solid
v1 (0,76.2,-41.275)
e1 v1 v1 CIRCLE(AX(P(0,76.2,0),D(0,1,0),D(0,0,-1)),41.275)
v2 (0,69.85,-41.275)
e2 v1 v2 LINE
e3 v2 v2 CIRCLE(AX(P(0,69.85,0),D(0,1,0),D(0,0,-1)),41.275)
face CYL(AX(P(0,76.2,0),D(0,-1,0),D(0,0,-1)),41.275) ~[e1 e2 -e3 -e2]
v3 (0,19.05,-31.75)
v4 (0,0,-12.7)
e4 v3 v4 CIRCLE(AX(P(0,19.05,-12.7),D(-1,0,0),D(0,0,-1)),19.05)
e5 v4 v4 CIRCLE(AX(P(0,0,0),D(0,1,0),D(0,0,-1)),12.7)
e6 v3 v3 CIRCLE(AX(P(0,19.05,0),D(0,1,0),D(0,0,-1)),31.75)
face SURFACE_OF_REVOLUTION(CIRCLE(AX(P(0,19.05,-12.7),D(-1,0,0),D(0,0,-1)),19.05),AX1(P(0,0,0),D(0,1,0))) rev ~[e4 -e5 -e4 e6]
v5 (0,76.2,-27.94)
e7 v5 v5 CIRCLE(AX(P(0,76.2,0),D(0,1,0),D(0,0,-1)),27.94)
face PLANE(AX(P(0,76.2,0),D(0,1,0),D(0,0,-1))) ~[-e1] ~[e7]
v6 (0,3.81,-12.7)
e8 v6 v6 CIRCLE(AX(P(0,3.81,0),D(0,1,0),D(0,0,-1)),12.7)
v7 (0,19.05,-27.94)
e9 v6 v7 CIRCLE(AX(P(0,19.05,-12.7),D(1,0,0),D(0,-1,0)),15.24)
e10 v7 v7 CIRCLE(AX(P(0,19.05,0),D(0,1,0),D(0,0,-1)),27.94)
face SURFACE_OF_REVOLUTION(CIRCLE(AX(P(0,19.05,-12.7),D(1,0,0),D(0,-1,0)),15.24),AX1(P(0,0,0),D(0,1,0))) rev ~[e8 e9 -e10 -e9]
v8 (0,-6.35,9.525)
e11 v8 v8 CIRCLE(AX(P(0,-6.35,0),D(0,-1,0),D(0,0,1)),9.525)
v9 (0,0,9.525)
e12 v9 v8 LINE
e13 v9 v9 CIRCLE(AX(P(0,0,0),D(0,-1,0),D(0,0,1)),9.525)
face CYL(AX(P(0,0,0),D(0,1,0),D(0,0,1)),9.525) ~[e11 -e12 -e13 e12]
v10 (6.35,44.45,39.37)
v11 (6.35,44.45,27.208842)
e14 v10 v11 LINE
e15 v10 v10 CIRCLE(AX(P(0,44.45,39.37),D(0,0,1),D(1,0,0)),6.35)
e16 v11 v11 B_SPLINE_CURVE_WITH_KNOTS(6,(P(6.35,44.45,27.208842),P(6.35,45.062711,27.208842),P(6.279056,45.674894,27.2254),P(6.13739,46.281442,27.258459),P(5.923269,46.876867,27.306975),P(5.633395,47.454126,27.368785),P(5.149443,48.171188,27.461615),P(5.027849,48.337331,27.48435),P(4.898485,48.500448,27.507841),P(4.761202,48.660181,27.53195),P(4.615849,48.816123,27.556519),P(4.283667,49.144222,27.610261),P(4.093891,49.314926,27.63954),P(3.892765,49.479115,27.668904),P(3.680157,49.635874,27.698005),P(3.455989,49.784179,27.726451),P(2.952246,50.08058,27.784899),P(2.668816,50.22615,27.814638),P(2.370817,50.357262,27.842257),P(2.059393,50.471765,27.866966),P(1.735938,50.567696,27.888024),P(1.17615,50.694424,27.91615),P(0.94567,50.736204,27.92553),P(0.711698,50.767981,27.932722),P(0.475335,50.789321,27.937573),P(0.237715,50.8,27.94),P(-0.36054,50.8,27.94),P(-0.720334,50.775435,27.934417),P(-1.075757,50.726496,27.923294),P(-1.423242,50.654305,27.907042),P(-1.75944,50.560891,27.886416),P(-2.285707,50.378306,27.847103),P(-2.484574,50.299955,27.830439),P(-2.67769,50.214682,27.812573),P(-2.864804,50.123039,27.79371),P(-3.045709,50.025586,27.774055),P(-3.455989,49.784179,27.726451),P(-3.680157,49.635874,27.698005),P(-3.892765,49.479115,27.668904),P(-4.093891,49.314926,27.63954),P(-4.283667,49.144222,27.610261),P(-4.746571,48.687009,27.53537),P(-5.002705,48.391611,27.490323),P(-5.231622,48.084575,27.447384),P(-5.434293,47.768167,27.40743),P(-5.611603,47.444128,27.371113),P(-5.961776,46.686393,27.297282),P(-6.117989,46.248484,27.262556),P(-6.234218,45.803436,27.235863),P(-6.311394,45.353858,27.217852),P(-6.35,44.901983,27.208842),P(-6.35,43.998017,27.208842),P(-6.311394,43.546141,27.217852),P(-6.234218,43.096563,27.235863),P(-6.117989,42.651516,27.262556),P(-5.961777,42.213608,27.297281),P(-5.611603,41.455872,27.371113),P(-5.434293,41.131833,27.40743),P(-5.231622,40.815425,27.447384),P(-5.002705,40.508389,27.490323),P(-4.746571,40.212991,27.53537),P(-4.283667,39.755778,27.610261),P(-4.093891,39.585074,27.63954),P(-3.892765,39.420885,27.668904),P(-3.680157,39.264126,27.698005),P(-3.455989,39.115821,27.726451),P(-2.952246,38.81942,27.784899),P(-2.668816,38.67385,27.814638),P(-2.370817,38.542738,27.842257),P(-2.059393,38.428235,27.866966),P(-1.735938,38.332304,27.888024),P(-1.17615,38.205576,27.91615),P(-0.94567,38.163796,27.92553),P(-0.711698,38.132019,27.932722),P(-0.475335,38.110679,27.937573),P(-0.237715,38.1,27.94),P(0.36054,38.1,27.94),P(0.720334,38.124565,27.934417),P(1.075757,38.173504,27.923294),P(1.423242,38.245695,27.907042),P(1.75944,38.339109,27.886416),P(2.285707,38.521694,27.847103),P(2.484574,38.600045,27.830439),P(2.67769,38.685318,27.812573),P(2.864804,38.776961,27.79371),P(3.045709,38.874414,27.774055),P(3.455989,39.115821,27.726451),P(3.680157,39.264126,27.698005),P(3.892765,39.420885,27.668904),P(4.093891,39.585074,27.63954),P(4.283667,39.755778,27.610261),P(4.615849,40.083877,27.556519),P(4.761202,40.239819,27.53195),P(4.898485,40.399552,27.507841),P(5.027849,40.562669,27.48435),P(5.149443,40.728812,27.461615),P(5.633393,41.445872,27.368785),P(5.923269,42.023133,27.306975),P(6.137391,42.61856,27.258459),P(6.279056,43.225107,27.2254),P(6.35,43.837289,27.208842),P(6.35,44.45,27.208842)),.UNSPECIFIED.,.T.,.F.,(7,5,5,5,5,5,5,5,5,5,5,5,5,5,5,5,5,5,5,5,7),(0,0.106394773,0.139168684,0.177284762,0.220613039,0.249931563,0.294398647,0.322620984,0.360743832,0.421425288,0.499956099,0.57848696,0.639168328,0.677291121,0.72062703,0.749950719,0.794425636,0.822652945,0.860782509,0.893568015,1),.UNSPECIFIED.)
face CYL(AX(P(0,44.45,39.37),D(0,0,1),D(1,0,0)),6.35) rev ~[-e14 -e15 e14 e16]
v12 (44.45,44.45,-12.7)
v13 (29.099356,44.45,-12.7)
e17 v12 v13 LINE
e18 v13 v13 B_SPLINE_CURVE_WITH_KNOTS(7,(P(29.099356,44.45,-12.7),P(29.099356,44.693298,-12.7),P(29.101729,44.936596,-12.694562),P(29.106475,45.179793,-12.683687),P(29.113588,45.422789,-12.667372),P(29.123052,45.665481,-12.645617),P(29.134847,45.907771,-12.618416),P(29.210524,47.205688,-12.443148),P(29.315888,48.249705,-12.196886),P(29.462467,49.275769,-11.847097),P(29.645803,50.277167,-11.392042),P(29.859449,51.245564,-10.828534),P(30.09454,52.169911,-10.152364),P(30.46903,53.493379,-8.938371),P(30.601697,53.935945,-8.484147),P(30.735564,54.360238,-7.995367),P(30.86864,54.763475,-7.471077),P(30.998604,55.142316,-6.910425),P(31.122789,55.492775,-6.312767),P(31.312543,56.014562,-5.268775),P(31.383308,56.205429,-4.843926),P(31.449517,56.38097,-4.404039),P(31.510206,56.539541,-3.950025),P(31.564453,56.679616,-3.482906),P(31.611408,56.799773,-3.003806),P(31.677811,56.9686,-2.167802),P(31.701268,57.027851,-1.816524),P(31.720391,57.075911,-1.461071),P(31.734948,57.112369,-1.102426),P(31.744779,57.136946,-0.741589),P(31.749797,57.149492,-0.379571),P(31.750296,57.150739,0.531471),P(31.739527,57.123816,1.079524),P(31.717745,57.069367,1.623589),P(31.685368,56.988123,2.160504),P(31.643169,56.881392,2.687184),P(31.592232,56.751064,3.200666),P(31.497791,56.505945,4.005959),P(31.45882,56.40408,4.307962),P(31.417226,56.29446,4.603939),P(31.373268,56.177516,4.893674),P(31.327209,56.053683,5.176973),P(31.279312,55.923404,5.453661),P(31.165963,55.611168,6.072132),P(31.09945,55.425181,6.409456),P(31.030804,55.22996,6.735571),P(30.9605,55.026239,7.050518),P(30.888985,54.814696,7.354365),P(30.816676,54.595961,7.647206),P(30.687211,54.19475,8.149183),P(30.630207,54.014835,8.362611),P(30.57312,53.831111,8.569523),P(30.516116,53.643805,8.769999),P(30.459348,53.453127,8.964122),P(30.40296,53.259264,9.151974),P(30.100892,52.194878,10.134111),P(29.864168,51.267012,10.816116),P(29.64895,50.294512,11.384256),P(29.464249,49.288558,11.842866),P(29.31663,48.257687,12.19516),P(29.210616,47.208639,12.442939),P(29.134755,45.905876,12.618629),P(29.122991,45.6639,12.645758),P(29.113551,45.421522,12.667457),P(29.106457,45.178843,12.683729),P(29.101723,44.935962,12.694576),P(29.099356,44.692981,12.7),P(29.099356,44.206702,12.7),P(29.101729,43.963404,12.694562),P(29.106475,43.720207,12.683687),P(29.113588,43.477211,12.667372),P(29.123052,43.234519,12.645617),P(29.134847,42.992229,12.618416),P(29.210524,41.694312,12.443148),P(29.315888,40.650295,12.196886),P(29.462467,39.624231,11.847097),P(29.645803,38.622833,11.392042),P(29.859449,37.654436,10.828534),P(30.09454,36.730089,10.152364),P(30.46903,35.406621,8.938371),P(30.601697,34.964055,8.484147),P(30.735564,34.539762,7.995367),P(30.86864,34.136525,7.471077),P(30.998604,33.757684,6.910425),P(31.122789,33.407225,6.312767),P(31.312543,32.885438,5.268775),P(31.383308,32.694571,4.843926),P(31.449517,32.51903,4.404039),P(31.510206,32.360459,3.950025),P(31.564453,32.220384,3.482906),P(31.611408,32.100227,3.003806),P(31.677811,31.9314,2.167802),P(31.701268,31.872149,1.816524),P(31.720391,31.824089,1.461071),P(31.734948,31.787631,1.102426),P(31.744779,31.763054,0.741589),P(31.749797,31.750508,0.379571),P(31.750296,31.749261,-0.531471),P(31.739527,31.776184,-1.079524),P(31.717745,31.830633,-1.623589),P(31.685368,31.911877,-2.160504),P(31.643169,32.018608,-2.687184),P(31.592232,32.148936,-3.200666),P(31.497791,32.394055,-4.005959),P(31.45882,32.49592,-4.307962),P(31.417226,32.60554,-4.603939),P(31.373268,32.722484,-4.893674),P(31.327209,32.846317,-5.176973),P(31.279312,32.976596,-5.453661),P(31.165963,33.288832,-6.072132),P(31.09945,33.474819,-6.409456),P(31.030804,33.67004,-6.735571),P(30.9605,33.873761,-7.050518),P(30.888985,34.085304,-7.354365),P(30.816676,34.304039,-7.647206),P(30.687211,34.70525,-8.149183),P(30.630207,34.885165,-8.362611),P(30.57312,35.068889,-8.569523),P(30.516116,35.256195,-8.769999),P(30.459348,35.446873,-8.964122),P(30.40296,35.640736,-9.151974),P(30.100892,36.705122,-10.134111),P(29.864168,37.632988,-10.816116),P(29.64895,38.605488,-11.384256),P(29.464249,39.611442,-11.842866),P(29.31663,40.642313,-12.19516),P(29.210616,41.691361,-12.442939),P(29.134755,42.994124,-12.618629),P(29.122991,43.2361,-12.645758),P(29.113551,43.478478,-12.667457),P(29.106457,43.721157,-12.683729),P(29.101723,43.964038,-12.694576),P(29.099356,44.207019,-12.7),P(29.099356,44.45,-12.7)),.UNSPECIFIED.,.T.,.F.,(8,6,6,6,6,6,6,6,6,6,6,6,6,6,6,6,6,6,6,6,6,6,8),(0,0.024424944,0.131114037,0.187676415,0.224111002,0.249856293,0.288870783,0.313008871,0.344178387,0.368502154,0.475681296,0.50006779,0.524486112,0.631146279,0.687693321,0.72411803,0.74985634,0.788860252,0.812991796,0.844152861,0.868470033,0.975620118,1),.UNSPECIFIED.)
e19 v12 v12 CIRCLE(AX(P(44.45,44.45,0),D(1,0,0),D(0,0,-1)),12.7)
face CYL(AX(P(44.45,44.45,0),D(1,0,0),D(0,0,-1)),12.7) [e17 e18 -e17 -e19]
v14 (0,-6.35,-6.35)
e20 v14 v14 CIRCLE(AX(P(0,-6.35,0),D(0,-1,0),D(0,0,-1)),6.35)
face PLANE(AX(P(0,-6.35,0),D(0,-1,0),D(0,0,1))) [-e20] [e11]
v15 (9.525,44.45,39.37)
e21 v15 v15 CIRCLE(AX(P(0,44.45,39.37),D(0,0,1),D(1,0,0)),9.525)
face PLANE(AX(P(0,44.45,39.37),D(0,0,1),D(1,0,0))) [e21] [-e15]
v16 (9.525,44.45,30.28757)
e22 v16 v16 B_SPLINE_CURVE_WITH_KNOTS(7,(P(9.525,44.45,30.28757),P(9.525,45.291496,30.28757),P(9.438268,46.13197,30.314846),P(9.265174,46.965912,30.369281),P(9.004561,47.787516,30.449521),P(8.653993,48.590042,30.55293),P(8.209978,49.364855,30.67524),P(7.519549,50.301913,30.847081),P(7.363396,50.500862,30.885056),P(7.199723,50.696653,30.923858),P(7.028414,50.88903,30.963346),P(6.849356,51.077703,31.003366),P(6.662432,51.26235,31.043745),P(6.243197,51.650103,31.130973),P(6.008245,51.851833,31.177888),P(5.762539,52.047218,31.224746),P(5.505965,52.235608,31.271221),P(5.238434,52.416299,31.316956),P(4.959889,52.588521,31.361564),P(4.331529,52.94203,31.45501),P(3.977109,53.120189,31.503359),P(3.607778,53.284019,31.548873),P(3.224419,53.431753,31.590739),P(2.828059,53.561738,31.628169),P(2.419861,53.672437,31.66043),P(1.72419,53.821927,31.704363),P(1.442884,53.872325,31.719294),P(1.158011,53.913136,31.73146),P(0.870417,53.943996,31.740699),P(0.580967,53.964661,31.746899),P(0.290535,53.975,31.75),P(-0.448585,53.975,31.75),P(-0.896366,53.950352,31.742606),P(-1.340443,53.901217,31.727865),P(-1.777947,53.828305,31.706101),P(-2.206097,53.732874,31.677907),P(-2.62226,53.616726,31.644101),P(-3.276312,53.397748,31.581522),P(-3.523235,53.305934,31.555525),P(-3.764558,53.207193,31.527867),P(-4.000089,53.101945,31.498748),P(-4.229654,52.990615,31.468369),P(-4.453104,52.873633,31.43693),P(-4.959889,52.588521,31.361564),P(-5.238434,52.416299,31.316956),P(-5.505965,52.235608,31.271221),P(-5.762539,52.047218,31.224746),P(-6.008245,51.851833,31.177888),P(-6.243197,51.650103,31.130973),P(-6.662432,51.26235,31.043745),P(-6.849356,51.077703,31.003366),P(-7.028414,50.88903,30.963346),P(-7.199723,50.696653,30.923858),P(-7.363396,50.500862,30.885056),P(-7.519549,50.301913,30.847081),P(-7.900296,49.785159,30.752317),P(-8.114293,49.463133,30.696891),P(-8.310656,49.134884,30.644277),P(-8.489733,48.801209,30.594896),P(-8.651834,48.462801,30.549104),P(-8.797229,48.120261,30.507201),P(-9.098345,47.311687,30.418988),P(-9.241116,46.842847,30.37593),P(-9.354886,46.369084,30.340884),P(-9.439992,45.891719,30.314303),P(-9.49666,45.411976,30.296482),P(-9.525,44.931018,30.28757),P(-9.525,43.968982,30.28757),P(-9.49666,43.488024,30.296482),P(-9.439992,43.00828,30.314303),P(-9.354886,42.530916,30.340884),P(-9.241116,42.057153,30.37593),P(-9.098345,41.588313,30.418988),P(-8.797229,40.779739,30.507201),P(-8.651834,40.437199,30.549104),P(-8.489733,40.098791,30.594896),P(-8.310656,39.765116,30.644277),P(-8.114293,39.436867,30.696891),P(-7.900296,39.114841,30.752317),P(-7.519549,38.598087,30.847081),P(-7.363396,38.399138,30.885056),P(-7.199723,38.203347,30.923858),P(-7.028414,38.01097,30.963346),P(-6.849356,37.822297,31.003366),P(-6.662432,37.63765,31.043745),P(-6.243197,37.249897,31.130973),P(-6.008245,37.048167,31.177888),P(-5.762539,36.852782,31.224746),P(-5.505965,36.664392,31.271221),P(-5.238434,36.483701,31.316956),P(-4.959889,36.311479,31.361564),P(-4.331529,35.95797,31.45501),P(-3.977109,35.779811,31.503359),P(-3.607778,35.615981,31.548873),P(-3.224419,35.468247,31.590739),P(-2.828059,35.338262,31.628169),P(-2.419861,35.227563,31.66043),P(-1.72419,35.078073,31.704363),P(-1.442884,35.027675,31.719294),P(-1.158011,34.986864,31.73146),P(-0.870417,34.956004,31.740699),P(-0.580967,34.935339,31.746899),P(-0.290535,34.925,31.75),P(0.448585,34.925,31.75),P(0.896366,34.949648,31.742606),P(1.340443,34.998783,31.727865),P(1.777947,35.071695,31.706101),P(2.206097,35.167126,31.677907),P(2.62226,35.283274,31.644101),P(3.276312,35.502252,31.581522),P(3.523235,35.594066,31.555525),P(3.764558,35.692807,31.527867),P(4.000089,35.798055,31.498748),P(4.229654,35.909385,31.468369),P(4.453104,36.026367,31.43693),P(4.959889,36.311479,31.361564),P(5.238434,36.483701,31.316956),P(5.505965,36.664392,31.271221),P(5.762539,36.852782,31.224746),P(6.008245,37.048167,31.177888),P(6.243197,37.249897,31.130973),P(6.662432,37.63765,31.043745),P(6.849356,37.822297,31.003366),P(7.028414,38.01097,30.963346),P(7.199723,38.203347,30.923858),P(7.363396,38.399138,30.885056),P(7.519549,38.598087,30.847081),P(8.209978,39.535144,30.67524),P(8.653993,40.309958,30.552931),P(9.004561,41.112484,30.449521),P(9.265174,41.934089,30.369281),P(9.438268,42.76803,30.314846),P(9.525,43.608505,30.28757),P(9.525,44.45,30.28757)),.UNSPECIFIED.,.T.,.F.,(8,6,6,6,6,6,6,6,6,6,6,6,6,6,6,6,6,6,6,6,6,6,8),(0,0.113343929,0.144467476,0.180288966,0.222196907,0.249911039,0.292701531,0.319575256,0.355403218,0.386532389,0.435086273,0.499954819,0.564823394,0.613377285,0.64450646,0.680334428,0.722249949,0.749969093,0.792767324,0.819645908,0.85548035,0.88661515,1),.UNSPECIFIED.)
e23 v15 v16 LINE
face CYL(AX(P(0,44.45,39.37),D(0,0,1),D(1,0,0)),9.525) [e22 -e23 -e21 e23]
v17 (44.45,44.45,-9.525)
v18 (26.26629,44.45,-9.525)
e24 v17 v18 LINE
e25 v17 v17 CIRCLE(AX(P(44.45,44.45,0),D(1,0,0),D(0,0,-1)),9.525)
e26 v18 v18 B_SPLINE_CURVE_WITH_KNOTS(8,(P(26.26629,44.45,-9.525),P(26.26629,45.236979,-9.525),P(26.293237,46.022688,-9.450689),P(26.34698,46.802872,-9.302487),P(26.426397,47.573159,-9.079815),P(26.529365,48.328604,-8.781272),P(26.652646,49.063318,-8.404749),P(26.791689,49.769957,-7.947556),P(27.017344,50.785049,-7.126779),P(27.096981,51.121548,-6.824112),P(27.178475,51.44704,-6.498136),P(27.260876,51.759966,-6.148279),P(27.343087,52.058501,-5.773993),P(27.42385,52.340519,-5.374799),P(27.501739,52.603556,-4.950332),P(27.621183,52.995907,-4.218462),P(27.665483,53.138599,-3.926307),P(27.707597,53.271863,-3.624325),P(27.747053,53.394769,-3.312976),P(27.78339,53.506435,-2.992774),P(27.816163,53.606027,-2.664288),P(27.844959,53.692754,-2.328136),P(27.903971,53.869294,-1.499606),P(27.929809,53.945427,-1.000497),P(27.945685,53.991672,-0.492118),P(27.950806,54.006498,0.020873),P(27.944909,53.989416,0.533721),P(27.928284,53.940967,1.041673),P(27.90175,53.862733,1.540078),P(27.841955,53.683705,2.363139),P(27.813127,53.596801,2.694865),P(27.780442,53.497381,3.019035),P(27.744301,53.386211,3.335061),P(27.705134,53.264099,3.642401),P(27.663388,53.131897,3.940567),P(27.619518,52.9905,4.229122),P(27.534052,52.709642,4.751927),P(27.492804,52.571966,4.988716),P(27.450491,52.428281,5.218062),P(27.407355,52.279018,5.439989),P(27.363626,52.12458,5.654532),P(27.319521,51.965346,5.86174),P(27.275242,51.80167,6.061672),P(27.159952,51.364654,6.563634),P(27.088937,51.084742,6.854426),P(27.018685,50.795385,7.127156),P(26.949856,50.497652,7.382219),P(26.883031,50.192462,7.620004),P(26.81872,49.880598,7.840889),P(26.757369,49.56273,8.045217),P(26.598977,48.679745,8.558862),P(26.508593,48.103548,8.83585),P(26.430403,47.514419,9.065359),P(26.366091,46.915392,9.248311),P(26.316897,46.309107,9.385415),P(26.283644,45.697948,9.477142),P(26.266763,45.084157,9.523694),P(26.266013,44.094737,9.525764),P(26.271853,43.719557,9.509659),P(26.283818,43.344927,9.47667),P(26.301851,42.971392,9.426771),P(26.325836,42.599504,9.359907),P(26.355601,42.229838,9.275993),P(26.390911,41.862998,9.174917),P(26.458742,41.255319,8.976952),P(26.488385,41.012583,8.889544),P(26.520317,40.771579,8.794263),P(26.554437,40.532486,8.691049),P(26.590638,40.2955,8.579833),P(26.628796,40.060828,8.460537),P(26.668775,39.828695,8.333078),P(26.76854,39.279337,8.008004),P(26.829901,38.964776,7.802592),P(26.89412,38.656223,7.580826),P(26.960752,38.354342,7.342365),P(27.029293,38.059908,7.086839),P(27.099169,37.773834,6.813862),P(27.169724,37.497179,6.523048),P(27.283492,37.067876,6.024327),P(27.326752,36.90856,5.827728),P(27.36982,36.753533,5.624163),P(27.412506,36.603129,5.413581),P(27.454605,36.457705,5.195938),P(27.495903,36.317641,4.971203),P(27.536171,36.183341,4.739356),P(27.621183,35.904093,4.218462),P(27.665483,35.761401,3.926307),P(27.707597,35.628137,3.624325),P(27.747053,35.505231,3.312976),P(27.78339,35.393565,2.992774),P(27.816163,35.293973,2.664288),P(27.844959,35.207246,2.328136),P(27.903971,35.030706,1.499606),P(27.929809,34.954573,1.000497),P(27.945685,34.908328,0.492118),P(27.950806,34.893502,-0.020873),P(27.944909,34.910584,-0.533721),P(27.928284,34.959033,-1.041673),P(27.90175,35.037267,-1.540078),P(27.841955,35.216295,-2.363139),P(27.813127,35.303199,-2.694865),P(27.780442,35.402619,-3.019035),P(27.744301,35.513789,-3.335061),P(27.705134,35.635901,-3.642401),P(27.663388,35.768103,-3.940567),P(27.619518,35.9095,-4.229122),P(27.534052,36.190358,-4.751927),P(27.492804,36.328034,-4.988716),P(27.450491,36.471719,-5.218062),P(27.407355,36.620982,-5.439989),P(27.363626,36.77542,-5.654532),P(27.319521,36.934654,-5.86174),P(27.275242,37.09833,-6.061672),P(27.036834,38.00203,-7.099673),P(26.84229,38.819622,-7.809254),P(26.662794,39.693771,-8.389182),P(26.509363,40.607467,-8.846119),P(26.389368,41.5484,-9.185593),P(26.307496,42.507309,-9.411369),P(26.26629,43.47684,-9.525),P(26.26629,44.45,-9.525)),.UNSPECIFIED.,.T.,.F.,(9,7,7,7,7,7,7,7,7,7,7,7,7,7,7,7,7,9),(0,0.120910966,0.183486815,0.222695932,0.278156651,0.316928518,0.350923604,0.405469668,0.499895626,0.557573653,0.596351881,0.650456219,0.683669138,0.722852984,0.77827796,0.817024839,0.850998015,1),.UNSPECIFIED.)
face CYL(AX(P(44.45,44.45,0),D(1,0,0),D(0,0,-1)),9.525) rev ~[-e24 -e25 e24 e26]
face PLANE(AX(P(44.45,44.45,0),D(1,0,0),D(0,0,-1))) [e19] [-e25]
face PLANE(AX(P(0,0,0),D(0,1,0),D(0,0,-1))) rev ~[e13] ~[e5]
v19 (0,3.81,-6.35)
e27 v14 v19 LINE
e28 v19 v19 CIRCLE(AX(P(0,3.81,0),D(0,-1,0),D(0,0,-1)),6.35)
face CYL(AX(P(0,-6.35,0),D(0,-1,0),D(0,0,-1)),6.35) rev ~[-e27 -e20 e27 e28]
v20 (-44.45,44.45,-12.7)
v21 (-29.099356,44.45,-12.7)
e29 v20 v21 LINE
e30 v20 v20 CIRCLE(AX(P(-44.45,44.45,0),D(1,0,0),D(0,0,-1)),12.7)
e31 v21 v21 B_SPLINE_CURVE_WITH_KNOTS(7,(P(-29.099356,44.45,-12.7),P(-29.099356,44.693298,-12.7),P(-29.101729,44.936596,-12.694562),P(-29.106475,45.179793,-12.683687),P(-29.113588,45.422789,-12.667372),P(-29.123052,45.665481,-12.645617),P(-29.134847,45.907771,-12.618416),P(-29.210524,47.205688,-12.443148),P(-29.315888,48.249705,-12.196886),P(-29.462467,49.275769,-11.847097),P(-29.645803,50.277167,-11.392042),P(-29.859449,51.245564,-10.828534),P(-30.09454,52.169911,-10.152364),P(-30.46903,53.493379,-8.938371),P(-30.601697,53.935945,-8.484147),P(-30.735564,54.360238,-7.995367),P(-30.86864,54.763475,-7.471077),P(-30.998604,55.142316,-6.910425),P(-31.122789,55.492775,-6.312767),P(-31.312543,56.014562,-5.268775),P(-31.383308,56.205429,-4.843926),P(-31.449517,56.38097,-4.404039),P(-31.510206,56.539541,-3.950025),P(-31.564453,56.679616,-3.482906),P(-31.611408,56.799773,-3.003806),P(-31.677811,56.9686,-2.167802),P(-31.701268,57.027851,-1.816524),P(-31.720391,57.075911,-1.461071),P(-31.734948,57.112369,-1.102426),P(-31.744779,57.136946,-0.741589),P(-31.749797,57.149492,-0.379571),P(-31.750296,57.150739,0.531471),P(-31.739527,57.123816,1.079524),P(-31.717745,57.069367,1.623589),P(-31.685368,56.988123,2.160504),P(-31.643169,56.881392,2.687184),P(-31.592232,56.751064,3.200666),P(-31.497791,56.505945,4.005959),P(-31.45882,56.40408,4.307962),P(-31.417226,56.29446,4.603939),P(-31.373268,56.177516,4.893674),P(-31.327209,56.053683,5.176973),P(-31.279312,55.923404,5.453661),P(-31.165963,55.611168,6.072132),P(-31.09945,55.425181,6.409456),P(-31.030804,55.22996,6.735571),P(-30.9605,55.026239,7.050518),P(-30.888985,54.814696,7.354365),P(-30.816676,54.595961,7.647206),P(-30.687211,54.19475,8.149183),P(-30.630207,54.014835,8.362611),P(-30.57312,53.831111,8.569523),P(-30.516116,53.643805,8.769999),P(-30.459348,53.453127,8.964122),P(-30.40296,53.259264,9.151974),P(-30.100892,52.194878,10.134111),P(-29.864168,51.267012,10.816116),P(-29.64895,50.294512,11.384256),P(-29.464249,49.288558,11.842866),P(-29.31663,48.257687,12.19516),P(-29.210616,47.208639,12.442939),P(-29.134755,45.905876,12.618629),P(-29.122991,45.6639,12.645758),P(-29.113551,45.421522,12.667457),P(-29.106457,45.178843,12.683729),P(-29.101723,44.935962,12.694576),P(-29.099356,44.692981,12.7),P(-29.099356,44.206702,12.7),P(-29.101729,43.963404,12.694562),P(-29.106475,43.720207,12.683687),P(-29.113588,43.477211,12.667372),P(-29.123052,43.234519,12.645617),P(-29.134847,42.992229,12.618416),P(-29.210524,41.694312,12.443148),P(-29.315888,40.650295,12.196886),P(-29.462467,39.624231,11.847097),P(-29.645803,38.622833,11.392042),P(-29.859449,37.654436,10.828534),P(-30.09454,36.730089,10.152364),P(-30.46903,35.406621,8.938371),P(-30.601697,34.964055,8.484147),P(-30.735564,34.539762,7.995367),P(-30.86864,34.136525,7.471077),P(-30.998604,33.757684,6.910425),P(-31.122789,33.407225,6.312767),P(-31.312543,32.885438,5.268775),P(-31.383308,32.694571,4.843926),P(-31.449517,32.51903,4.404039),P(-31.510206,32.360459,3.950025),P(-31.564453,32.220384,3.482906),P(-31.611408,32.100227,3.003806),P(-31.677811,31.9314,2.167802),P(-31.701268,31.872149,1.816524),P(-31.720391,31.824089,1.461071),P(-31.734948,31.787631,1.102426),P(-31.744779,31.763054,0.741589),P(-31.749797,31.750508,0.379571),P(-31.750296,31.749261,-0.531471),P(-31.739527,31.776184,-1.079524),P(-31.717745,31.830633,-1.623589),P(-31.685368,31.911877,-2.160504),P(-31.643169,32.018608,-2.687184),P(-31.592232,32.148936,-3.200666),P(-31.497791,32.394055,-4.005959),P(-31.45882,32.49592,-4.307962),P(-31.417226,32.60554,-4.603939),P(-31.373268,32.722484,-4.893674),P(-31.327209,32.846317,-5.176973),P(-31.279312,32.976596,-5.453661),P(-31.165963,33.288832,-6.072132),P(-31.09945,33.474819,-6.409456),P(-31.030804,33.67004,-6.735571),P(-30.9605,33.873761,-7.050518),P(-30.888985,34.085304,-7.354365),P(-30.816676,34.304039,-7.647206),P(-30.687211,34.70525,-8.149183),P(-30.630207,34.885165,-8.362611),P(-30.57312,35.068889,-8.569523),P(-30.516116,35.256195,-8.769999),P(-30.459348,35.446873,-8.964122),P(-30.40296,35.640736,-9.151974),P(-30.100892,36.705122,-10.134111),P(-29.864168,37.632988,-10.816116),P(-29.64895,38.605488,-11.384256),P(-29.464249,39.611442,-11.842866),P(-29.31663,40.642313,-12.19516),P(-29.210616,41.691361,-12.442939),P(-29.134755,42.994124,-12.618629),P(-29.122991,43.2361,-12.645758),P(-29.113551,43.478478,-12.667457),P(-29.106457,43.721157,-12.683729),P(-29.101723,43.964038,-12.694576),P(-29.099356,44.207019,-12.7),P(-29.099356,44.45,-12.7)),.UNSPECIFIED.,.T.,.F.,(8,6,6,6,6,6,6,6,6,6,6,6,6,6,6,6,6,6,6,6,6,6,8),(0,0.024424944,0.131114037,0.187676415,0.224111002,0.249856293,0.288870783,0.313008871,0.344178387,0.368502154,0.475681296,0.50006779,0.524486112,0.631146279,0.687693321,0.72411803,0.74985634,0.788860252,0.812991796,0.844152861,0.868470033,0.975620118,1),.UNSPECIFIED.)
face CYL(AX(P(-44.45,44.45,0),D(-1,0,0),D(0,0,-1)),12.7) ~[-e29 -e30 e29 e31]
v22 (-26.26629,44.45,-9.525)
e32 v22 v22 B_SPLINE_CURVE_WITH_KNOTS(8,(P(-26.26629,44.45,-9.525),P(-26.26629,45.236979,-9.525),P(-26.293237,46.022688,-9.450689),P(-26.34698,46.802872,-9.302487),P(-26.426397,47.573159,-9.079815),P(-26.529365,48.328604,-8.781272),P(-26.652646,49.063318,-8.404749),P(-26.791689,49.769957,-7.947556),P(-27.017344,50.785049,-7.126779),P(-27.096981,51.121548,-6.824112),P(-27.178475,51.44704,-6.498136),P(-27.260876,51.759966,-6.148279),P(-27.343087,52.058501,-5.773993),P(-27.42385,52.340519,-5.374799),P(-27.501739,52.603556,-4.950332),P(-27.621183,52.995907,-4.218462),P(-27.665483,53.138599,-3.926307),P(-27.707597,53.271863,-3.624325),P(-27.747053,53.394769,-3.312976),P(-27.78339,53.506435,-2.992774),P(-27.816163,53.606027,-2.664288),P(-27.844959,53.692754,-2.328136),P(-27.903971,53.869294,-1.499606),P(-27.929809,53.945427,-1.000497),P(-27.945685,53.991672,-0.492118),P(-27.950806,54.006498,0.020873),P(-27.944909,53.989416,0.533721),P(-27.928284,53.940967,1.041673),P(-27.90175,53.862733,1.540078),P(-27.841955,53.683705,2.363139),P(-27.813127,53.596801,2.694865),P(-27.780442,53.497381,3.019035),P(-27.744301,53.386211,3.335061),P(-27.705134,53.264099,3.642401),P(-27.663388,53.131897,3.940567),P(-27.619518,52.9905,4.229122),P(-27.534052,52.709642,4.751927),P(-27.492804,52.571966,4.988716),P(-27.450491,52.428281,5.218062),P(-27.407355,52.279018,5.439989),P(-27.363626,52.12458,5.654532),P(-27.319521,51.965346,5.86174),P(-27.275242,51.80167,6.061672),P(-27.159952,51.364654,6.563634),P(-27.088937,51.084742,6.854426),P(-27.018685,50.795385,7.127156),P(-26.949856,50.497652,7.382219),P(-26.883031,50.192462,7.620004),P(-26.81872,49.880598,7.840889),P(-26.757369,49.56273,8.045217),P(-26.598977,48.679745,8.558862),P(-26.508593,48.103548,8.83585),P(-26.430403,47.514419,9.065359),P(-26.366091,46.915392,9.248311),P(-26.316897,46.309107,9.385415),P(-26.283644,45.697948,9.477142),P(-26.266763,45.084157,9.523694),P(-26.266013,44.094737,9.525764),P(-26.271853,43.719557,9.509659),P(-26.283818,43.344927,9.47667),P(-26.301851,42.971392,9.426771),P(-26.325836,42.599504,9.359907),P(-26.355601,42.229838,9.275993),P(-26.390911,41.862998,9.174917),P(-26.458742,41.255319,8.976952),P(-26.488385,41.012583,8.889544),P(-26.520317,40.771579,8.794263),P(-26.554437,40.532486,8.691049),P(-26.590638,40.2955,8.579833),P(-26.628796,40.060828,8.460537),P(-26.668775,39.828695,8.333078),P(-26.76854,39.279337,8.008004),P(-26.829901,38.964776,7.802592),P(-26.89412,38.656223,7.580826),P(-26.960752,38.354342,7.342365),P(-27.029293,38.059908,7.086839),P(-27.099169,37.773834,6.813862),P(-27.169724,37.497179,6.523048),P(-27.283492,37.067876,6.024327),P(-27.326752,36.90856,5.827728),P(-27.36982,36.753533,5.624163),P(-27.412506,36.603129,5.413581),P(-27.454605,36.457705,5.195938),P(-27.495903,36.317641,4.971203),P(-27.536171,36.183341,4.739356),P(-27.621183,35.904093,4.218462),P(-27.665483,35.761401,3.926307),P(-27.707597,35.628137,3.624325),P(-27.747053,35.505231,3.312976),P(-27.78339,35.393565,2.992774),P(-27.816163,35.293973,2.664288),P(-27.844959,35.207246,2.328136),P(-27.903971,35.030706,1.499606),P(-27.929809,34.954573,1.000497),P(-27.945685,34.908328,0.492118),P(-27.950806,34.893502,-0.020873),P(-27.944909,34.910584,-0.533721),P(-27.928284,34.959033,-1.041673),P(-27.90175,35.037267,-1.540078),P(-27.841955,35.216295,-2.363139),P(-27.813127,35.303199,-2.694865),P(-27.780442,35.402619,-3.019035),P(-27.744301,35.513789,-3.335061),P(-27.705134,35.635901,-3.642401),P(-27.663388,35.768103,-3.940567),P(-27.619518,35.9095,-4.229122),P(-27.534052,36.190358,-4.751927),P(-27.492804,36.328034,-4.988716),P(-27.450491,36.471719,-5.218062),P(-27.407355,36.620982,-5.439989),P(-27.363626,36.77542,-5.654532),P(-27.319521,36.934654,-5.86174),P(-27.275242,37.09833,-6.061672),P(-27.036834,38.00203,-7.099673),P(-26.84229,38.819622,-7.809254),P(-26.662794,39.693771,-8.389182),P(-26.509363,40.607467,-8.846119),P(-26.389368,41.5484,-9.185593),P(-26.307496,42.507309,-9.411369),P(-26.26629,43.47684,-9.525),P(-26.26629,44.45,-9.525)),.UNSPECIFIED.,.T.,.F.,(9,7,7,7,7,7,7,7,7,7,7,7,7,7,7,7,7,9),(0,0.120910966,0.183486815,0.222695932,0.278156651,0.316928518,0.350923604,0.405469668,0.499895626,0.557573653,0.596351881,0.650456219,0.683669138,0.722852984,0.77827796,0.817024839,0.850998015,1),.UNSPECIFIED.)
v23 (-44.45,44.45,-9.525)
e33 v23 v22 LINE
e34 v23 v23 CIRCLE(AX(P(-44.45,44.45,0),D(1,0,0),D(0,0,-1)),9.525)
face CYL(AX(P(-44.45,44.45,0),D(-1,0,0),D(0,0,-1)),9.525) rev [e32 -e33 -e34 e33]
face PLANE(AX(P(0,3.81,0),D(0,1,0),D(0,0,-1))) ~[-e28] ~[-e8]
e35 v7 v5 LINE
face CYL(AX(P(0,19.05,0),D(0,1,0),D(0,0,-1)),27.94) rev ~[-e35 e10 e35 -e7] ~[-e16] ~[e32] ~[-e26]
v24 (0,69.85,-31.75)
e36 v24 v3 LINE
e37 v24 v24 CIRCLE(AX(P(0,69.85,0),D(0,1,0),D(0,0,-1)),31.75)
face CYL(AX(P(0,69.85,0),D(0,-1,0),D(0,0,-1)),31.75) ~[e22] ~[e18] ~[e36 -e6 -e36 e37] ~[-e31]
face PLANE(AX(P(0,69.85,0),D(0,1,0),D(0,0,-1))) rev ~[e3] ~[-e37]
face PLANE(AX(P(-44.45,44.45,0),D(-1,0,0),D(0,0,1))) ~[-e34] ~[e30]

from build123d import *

# Parameters (mm, degrees)
BOSS_EXTRUDE1_REACH      = 123.897
BOSS_EXTRUDE1_END_RADIUS = 31.75
SKETCH2_R                = 12.7
CUT_EXTRUDE1_REACH       = 123.897
CUT_EXTRUDE1_END_RADIUS  = 27.94
SKETCH3_R                = 9.525
BOSS_EXTRUDE2_REACH      = 121.523
BOSS_EXTRUDE2_END_RADIUS = 31.75
SKETCH4_R                = 9.525
CUT_EXTRUDE2_REACH       = 121.523
CUT_EXTRUDE2_END_RADIUS  = 27.94
SKETCH5_R                = 6.35
SKETCH6_R                = 9.525
BOSS_EXTRUDE3_DEPTH      = 6.35
CUT_EXTRUDE3_REACH       = 104.44
SKETCH7_R                = 6.35


with BuildPart() as part:
    # Sketch1 → Revolve1 (revolve)
    with BuildSketch(Plane.XY, mode=Mode.PRIVATE) as revolve1_sk:
        with BuildLine():
            Line((-31.75, 69.85), (-31.75, 19.05))
            ThreePointArc((-31.75, 19.05), (-26.170384182, 5.579615818), (-12.7, 0))
            Line((-12.7, 0), (0, 0))
            Line((0, 0), (0, 3.81))
            Line((0, 3.81), (-12.7, 3.81))
            ThreePointArc((-12.7, 3.81), (-23.476307345, 8.273692655), (-27.94, 19.05))
            Line((-27.94, 19.05), (-27.94, 76.2))
            Line((-27.94, 76.2), (-41.275, 76.2))
            Line((-41.275, 76.2), (-41.275, 69.85))
            Line((-41.275, 69.85), (-31.75, 69.85))
        make_face()
    revolve(revolve1_sk.sketch.rotate(Axis((0, 0, 0), (0, 1, 0)), 270), axis=Axis((0, 0, 0), (0, 1, 0)))

    # Boss-Extrude1: up to this cylinder (the profile starts outside it)
    boss_extrude1_end = Plane(origin=(0, 44.45, 0), z_dir=(0, -1, 0)) * Cylinder(BOSS_EXTRUDE1_END_RADIUS, 312.294, mode=Mode.PRIVATE)
    # Sketch2 → Boss-Extrude1 (add, up to the surface)
    with BuildSketch(Plane(origin=(44.45, 0, 0), x_dir=(0, 0, -1), z_dir=(1, 0, 0)), mode=Mode.PRIVATE) as boss_extrude1_sk1:
        with Locations((0, 44.45)):
            Circle(SKETCH2_R)
    boss_extrude1_tool1 = extrude(boss_extrude1_sk1.sketch, amount=-BOSS_EXTRUDE1_REACH, mode=Mode.PRIVATE) - boss_extrude1_end
    boss_extrude1 = boss_extrude1_tool1.solids().sort_by_distance((44.45, 44.45, 0))[0]
    add(boss_extrude1)

    # Cut-Extrude1: up to this cylinder (the profile starts outside it)
    cut_extrude1_end = Plane(origin=(0, 44.45, 0), z_dir=(0, -1, 0)) * Cylinder(CUT_EXTRUDE1_END_RADIUS, 304.674, mode=Mode.PRIVATE)
    # Sketch3 → Cut-Extrude1 (cut, up to the surface)
    with BuildSketch(Plane(origin=(44.45, 0, 0), x_dir=(0, 0, -1), z_dir=(1, 0, 0)), mode=Mode.PRIVATE) as cut_extrude1_sk1:
        with Locations((0, 44.45)):
            Circle(SKETCH3_R)
    cut_extrude1_tool1 = extrude(cut_extrude1_sk1.sketch, amount=-CUT_EXTRUDE1_REACH, mode=Mode.PRIVATE) - cut_extrude1_end
    cut_extrude1 = cut_extrude1_tool1.solids().sort_by_distance((44.45, 44.45, 0))[0]
    add(cut_extrude1, mode=Mode.SUBTRACT)

    # Mirror3: Boss-Extrude1, Cut-Extrude1 across plane
    add(boss_extrude1.mirror(Plane(origin=(0, 0, 0), x_dir=(0, 0, 1), z_dir=(1, 0, 0))))
    add(cut_extrude1.mirror(Plane(origin=(0, 0, 0), x_dir=(0, 0, 1), z_dir=(1, 0, 0))), mode=Mode.SUBTRACT)

    # Boss-Extrude2: up to this cylinder (the profile starts outside it)
    boss_extrude2_end = Plane(origin=(0, 44.45, 0), z_dir=(0, -1, 0)) * Cylinder(BOSS_EXTRUDE2_END_RADIUS, 307.546, mode=Mode.PRIVATE)
    # Sketch4 → Boss-Extrude2 (add, up to the surface)
    with BuildSketch(Plane.XY.offset(39.37), mode=Mode.PRIVATE) as boss_extrude2_sk1:
        with Locations((0, 44.45)):
            Circle(SKETCH4_R)
    boss_extrude2_tool1 = extrude(boss_extrude2_sk1.sketch, amount=-BOSS_EXTRUDE2_REACH, mode=Mode.PRIVATE) - boss_extrude2_end
    add(boss_extrude2_tool1.solids().sort_by_distance((0, 44.45, 39.37))[0])

    # Cut-Extrude2: up to this cylinder (the profile starts outside it)
    cut_extrude2_end = Plane(origin=(0, 44.45, 0), z_dir=(0, -1, 0)) * Cylinder(CUT_EXTRUDE2_END_RADIUS, 299.926, mode=Mode.PRIVATE)
    # Sketch5 → Cut-Extrude2 (cut, up to the surface)
    with BuildSketch(Plane.XY.offset(39.37), mode=Mode.PRIVATE) as cut_extrude2_sk1:
        with Locations((0, 44.45)):
            Circle(SKETCH5_R)
    cut_extrude2_tool1 = extrude(cut_extrude2_sk1.sketch, amount=-CUT_EXTRUDE2_REACH, mode=Mode.PRIVATE) - cut_extrude2_end
    add(cut_extrude2_tool1.solids().sort_by_distance((0, 44.45, 39.37))[0], mode=Mode.SUBTRACT)

    # Sketch6 → Boss-Extrude3 (add)
    with BuildSketch(Plane.XZ):
        with Locations(Location((0, 0, 0), (0, 0, 90))):
            Circle(SKETCH6_R)
    extrude(amount=BOSS_EXTRUDE3_DEPTH)

    # Sketch7 → Cut-Extrude3 (cut, up to next)
    with BuildSketch(Plane.XZ.offset(6.35), mode=Mode.PRIVATE) as cut_extrude3_sk1:
        with Locations(Location((0, 0, 0), (0, 0, 270))):
            Circle(SKETCH7_R)
    cut_extrude3_tool1 = extrude(cut_extrude3_sk1.sketch, amount=-CUT_EXTRUDE3_REACH, mode=Mode.PRIVATE) & part.part
    add(cut_extrude3_tool1.solids().sort_by_distance((0, -6.35, 0))[0], mode=Mode.SUBTRACT)


solid = part.part
